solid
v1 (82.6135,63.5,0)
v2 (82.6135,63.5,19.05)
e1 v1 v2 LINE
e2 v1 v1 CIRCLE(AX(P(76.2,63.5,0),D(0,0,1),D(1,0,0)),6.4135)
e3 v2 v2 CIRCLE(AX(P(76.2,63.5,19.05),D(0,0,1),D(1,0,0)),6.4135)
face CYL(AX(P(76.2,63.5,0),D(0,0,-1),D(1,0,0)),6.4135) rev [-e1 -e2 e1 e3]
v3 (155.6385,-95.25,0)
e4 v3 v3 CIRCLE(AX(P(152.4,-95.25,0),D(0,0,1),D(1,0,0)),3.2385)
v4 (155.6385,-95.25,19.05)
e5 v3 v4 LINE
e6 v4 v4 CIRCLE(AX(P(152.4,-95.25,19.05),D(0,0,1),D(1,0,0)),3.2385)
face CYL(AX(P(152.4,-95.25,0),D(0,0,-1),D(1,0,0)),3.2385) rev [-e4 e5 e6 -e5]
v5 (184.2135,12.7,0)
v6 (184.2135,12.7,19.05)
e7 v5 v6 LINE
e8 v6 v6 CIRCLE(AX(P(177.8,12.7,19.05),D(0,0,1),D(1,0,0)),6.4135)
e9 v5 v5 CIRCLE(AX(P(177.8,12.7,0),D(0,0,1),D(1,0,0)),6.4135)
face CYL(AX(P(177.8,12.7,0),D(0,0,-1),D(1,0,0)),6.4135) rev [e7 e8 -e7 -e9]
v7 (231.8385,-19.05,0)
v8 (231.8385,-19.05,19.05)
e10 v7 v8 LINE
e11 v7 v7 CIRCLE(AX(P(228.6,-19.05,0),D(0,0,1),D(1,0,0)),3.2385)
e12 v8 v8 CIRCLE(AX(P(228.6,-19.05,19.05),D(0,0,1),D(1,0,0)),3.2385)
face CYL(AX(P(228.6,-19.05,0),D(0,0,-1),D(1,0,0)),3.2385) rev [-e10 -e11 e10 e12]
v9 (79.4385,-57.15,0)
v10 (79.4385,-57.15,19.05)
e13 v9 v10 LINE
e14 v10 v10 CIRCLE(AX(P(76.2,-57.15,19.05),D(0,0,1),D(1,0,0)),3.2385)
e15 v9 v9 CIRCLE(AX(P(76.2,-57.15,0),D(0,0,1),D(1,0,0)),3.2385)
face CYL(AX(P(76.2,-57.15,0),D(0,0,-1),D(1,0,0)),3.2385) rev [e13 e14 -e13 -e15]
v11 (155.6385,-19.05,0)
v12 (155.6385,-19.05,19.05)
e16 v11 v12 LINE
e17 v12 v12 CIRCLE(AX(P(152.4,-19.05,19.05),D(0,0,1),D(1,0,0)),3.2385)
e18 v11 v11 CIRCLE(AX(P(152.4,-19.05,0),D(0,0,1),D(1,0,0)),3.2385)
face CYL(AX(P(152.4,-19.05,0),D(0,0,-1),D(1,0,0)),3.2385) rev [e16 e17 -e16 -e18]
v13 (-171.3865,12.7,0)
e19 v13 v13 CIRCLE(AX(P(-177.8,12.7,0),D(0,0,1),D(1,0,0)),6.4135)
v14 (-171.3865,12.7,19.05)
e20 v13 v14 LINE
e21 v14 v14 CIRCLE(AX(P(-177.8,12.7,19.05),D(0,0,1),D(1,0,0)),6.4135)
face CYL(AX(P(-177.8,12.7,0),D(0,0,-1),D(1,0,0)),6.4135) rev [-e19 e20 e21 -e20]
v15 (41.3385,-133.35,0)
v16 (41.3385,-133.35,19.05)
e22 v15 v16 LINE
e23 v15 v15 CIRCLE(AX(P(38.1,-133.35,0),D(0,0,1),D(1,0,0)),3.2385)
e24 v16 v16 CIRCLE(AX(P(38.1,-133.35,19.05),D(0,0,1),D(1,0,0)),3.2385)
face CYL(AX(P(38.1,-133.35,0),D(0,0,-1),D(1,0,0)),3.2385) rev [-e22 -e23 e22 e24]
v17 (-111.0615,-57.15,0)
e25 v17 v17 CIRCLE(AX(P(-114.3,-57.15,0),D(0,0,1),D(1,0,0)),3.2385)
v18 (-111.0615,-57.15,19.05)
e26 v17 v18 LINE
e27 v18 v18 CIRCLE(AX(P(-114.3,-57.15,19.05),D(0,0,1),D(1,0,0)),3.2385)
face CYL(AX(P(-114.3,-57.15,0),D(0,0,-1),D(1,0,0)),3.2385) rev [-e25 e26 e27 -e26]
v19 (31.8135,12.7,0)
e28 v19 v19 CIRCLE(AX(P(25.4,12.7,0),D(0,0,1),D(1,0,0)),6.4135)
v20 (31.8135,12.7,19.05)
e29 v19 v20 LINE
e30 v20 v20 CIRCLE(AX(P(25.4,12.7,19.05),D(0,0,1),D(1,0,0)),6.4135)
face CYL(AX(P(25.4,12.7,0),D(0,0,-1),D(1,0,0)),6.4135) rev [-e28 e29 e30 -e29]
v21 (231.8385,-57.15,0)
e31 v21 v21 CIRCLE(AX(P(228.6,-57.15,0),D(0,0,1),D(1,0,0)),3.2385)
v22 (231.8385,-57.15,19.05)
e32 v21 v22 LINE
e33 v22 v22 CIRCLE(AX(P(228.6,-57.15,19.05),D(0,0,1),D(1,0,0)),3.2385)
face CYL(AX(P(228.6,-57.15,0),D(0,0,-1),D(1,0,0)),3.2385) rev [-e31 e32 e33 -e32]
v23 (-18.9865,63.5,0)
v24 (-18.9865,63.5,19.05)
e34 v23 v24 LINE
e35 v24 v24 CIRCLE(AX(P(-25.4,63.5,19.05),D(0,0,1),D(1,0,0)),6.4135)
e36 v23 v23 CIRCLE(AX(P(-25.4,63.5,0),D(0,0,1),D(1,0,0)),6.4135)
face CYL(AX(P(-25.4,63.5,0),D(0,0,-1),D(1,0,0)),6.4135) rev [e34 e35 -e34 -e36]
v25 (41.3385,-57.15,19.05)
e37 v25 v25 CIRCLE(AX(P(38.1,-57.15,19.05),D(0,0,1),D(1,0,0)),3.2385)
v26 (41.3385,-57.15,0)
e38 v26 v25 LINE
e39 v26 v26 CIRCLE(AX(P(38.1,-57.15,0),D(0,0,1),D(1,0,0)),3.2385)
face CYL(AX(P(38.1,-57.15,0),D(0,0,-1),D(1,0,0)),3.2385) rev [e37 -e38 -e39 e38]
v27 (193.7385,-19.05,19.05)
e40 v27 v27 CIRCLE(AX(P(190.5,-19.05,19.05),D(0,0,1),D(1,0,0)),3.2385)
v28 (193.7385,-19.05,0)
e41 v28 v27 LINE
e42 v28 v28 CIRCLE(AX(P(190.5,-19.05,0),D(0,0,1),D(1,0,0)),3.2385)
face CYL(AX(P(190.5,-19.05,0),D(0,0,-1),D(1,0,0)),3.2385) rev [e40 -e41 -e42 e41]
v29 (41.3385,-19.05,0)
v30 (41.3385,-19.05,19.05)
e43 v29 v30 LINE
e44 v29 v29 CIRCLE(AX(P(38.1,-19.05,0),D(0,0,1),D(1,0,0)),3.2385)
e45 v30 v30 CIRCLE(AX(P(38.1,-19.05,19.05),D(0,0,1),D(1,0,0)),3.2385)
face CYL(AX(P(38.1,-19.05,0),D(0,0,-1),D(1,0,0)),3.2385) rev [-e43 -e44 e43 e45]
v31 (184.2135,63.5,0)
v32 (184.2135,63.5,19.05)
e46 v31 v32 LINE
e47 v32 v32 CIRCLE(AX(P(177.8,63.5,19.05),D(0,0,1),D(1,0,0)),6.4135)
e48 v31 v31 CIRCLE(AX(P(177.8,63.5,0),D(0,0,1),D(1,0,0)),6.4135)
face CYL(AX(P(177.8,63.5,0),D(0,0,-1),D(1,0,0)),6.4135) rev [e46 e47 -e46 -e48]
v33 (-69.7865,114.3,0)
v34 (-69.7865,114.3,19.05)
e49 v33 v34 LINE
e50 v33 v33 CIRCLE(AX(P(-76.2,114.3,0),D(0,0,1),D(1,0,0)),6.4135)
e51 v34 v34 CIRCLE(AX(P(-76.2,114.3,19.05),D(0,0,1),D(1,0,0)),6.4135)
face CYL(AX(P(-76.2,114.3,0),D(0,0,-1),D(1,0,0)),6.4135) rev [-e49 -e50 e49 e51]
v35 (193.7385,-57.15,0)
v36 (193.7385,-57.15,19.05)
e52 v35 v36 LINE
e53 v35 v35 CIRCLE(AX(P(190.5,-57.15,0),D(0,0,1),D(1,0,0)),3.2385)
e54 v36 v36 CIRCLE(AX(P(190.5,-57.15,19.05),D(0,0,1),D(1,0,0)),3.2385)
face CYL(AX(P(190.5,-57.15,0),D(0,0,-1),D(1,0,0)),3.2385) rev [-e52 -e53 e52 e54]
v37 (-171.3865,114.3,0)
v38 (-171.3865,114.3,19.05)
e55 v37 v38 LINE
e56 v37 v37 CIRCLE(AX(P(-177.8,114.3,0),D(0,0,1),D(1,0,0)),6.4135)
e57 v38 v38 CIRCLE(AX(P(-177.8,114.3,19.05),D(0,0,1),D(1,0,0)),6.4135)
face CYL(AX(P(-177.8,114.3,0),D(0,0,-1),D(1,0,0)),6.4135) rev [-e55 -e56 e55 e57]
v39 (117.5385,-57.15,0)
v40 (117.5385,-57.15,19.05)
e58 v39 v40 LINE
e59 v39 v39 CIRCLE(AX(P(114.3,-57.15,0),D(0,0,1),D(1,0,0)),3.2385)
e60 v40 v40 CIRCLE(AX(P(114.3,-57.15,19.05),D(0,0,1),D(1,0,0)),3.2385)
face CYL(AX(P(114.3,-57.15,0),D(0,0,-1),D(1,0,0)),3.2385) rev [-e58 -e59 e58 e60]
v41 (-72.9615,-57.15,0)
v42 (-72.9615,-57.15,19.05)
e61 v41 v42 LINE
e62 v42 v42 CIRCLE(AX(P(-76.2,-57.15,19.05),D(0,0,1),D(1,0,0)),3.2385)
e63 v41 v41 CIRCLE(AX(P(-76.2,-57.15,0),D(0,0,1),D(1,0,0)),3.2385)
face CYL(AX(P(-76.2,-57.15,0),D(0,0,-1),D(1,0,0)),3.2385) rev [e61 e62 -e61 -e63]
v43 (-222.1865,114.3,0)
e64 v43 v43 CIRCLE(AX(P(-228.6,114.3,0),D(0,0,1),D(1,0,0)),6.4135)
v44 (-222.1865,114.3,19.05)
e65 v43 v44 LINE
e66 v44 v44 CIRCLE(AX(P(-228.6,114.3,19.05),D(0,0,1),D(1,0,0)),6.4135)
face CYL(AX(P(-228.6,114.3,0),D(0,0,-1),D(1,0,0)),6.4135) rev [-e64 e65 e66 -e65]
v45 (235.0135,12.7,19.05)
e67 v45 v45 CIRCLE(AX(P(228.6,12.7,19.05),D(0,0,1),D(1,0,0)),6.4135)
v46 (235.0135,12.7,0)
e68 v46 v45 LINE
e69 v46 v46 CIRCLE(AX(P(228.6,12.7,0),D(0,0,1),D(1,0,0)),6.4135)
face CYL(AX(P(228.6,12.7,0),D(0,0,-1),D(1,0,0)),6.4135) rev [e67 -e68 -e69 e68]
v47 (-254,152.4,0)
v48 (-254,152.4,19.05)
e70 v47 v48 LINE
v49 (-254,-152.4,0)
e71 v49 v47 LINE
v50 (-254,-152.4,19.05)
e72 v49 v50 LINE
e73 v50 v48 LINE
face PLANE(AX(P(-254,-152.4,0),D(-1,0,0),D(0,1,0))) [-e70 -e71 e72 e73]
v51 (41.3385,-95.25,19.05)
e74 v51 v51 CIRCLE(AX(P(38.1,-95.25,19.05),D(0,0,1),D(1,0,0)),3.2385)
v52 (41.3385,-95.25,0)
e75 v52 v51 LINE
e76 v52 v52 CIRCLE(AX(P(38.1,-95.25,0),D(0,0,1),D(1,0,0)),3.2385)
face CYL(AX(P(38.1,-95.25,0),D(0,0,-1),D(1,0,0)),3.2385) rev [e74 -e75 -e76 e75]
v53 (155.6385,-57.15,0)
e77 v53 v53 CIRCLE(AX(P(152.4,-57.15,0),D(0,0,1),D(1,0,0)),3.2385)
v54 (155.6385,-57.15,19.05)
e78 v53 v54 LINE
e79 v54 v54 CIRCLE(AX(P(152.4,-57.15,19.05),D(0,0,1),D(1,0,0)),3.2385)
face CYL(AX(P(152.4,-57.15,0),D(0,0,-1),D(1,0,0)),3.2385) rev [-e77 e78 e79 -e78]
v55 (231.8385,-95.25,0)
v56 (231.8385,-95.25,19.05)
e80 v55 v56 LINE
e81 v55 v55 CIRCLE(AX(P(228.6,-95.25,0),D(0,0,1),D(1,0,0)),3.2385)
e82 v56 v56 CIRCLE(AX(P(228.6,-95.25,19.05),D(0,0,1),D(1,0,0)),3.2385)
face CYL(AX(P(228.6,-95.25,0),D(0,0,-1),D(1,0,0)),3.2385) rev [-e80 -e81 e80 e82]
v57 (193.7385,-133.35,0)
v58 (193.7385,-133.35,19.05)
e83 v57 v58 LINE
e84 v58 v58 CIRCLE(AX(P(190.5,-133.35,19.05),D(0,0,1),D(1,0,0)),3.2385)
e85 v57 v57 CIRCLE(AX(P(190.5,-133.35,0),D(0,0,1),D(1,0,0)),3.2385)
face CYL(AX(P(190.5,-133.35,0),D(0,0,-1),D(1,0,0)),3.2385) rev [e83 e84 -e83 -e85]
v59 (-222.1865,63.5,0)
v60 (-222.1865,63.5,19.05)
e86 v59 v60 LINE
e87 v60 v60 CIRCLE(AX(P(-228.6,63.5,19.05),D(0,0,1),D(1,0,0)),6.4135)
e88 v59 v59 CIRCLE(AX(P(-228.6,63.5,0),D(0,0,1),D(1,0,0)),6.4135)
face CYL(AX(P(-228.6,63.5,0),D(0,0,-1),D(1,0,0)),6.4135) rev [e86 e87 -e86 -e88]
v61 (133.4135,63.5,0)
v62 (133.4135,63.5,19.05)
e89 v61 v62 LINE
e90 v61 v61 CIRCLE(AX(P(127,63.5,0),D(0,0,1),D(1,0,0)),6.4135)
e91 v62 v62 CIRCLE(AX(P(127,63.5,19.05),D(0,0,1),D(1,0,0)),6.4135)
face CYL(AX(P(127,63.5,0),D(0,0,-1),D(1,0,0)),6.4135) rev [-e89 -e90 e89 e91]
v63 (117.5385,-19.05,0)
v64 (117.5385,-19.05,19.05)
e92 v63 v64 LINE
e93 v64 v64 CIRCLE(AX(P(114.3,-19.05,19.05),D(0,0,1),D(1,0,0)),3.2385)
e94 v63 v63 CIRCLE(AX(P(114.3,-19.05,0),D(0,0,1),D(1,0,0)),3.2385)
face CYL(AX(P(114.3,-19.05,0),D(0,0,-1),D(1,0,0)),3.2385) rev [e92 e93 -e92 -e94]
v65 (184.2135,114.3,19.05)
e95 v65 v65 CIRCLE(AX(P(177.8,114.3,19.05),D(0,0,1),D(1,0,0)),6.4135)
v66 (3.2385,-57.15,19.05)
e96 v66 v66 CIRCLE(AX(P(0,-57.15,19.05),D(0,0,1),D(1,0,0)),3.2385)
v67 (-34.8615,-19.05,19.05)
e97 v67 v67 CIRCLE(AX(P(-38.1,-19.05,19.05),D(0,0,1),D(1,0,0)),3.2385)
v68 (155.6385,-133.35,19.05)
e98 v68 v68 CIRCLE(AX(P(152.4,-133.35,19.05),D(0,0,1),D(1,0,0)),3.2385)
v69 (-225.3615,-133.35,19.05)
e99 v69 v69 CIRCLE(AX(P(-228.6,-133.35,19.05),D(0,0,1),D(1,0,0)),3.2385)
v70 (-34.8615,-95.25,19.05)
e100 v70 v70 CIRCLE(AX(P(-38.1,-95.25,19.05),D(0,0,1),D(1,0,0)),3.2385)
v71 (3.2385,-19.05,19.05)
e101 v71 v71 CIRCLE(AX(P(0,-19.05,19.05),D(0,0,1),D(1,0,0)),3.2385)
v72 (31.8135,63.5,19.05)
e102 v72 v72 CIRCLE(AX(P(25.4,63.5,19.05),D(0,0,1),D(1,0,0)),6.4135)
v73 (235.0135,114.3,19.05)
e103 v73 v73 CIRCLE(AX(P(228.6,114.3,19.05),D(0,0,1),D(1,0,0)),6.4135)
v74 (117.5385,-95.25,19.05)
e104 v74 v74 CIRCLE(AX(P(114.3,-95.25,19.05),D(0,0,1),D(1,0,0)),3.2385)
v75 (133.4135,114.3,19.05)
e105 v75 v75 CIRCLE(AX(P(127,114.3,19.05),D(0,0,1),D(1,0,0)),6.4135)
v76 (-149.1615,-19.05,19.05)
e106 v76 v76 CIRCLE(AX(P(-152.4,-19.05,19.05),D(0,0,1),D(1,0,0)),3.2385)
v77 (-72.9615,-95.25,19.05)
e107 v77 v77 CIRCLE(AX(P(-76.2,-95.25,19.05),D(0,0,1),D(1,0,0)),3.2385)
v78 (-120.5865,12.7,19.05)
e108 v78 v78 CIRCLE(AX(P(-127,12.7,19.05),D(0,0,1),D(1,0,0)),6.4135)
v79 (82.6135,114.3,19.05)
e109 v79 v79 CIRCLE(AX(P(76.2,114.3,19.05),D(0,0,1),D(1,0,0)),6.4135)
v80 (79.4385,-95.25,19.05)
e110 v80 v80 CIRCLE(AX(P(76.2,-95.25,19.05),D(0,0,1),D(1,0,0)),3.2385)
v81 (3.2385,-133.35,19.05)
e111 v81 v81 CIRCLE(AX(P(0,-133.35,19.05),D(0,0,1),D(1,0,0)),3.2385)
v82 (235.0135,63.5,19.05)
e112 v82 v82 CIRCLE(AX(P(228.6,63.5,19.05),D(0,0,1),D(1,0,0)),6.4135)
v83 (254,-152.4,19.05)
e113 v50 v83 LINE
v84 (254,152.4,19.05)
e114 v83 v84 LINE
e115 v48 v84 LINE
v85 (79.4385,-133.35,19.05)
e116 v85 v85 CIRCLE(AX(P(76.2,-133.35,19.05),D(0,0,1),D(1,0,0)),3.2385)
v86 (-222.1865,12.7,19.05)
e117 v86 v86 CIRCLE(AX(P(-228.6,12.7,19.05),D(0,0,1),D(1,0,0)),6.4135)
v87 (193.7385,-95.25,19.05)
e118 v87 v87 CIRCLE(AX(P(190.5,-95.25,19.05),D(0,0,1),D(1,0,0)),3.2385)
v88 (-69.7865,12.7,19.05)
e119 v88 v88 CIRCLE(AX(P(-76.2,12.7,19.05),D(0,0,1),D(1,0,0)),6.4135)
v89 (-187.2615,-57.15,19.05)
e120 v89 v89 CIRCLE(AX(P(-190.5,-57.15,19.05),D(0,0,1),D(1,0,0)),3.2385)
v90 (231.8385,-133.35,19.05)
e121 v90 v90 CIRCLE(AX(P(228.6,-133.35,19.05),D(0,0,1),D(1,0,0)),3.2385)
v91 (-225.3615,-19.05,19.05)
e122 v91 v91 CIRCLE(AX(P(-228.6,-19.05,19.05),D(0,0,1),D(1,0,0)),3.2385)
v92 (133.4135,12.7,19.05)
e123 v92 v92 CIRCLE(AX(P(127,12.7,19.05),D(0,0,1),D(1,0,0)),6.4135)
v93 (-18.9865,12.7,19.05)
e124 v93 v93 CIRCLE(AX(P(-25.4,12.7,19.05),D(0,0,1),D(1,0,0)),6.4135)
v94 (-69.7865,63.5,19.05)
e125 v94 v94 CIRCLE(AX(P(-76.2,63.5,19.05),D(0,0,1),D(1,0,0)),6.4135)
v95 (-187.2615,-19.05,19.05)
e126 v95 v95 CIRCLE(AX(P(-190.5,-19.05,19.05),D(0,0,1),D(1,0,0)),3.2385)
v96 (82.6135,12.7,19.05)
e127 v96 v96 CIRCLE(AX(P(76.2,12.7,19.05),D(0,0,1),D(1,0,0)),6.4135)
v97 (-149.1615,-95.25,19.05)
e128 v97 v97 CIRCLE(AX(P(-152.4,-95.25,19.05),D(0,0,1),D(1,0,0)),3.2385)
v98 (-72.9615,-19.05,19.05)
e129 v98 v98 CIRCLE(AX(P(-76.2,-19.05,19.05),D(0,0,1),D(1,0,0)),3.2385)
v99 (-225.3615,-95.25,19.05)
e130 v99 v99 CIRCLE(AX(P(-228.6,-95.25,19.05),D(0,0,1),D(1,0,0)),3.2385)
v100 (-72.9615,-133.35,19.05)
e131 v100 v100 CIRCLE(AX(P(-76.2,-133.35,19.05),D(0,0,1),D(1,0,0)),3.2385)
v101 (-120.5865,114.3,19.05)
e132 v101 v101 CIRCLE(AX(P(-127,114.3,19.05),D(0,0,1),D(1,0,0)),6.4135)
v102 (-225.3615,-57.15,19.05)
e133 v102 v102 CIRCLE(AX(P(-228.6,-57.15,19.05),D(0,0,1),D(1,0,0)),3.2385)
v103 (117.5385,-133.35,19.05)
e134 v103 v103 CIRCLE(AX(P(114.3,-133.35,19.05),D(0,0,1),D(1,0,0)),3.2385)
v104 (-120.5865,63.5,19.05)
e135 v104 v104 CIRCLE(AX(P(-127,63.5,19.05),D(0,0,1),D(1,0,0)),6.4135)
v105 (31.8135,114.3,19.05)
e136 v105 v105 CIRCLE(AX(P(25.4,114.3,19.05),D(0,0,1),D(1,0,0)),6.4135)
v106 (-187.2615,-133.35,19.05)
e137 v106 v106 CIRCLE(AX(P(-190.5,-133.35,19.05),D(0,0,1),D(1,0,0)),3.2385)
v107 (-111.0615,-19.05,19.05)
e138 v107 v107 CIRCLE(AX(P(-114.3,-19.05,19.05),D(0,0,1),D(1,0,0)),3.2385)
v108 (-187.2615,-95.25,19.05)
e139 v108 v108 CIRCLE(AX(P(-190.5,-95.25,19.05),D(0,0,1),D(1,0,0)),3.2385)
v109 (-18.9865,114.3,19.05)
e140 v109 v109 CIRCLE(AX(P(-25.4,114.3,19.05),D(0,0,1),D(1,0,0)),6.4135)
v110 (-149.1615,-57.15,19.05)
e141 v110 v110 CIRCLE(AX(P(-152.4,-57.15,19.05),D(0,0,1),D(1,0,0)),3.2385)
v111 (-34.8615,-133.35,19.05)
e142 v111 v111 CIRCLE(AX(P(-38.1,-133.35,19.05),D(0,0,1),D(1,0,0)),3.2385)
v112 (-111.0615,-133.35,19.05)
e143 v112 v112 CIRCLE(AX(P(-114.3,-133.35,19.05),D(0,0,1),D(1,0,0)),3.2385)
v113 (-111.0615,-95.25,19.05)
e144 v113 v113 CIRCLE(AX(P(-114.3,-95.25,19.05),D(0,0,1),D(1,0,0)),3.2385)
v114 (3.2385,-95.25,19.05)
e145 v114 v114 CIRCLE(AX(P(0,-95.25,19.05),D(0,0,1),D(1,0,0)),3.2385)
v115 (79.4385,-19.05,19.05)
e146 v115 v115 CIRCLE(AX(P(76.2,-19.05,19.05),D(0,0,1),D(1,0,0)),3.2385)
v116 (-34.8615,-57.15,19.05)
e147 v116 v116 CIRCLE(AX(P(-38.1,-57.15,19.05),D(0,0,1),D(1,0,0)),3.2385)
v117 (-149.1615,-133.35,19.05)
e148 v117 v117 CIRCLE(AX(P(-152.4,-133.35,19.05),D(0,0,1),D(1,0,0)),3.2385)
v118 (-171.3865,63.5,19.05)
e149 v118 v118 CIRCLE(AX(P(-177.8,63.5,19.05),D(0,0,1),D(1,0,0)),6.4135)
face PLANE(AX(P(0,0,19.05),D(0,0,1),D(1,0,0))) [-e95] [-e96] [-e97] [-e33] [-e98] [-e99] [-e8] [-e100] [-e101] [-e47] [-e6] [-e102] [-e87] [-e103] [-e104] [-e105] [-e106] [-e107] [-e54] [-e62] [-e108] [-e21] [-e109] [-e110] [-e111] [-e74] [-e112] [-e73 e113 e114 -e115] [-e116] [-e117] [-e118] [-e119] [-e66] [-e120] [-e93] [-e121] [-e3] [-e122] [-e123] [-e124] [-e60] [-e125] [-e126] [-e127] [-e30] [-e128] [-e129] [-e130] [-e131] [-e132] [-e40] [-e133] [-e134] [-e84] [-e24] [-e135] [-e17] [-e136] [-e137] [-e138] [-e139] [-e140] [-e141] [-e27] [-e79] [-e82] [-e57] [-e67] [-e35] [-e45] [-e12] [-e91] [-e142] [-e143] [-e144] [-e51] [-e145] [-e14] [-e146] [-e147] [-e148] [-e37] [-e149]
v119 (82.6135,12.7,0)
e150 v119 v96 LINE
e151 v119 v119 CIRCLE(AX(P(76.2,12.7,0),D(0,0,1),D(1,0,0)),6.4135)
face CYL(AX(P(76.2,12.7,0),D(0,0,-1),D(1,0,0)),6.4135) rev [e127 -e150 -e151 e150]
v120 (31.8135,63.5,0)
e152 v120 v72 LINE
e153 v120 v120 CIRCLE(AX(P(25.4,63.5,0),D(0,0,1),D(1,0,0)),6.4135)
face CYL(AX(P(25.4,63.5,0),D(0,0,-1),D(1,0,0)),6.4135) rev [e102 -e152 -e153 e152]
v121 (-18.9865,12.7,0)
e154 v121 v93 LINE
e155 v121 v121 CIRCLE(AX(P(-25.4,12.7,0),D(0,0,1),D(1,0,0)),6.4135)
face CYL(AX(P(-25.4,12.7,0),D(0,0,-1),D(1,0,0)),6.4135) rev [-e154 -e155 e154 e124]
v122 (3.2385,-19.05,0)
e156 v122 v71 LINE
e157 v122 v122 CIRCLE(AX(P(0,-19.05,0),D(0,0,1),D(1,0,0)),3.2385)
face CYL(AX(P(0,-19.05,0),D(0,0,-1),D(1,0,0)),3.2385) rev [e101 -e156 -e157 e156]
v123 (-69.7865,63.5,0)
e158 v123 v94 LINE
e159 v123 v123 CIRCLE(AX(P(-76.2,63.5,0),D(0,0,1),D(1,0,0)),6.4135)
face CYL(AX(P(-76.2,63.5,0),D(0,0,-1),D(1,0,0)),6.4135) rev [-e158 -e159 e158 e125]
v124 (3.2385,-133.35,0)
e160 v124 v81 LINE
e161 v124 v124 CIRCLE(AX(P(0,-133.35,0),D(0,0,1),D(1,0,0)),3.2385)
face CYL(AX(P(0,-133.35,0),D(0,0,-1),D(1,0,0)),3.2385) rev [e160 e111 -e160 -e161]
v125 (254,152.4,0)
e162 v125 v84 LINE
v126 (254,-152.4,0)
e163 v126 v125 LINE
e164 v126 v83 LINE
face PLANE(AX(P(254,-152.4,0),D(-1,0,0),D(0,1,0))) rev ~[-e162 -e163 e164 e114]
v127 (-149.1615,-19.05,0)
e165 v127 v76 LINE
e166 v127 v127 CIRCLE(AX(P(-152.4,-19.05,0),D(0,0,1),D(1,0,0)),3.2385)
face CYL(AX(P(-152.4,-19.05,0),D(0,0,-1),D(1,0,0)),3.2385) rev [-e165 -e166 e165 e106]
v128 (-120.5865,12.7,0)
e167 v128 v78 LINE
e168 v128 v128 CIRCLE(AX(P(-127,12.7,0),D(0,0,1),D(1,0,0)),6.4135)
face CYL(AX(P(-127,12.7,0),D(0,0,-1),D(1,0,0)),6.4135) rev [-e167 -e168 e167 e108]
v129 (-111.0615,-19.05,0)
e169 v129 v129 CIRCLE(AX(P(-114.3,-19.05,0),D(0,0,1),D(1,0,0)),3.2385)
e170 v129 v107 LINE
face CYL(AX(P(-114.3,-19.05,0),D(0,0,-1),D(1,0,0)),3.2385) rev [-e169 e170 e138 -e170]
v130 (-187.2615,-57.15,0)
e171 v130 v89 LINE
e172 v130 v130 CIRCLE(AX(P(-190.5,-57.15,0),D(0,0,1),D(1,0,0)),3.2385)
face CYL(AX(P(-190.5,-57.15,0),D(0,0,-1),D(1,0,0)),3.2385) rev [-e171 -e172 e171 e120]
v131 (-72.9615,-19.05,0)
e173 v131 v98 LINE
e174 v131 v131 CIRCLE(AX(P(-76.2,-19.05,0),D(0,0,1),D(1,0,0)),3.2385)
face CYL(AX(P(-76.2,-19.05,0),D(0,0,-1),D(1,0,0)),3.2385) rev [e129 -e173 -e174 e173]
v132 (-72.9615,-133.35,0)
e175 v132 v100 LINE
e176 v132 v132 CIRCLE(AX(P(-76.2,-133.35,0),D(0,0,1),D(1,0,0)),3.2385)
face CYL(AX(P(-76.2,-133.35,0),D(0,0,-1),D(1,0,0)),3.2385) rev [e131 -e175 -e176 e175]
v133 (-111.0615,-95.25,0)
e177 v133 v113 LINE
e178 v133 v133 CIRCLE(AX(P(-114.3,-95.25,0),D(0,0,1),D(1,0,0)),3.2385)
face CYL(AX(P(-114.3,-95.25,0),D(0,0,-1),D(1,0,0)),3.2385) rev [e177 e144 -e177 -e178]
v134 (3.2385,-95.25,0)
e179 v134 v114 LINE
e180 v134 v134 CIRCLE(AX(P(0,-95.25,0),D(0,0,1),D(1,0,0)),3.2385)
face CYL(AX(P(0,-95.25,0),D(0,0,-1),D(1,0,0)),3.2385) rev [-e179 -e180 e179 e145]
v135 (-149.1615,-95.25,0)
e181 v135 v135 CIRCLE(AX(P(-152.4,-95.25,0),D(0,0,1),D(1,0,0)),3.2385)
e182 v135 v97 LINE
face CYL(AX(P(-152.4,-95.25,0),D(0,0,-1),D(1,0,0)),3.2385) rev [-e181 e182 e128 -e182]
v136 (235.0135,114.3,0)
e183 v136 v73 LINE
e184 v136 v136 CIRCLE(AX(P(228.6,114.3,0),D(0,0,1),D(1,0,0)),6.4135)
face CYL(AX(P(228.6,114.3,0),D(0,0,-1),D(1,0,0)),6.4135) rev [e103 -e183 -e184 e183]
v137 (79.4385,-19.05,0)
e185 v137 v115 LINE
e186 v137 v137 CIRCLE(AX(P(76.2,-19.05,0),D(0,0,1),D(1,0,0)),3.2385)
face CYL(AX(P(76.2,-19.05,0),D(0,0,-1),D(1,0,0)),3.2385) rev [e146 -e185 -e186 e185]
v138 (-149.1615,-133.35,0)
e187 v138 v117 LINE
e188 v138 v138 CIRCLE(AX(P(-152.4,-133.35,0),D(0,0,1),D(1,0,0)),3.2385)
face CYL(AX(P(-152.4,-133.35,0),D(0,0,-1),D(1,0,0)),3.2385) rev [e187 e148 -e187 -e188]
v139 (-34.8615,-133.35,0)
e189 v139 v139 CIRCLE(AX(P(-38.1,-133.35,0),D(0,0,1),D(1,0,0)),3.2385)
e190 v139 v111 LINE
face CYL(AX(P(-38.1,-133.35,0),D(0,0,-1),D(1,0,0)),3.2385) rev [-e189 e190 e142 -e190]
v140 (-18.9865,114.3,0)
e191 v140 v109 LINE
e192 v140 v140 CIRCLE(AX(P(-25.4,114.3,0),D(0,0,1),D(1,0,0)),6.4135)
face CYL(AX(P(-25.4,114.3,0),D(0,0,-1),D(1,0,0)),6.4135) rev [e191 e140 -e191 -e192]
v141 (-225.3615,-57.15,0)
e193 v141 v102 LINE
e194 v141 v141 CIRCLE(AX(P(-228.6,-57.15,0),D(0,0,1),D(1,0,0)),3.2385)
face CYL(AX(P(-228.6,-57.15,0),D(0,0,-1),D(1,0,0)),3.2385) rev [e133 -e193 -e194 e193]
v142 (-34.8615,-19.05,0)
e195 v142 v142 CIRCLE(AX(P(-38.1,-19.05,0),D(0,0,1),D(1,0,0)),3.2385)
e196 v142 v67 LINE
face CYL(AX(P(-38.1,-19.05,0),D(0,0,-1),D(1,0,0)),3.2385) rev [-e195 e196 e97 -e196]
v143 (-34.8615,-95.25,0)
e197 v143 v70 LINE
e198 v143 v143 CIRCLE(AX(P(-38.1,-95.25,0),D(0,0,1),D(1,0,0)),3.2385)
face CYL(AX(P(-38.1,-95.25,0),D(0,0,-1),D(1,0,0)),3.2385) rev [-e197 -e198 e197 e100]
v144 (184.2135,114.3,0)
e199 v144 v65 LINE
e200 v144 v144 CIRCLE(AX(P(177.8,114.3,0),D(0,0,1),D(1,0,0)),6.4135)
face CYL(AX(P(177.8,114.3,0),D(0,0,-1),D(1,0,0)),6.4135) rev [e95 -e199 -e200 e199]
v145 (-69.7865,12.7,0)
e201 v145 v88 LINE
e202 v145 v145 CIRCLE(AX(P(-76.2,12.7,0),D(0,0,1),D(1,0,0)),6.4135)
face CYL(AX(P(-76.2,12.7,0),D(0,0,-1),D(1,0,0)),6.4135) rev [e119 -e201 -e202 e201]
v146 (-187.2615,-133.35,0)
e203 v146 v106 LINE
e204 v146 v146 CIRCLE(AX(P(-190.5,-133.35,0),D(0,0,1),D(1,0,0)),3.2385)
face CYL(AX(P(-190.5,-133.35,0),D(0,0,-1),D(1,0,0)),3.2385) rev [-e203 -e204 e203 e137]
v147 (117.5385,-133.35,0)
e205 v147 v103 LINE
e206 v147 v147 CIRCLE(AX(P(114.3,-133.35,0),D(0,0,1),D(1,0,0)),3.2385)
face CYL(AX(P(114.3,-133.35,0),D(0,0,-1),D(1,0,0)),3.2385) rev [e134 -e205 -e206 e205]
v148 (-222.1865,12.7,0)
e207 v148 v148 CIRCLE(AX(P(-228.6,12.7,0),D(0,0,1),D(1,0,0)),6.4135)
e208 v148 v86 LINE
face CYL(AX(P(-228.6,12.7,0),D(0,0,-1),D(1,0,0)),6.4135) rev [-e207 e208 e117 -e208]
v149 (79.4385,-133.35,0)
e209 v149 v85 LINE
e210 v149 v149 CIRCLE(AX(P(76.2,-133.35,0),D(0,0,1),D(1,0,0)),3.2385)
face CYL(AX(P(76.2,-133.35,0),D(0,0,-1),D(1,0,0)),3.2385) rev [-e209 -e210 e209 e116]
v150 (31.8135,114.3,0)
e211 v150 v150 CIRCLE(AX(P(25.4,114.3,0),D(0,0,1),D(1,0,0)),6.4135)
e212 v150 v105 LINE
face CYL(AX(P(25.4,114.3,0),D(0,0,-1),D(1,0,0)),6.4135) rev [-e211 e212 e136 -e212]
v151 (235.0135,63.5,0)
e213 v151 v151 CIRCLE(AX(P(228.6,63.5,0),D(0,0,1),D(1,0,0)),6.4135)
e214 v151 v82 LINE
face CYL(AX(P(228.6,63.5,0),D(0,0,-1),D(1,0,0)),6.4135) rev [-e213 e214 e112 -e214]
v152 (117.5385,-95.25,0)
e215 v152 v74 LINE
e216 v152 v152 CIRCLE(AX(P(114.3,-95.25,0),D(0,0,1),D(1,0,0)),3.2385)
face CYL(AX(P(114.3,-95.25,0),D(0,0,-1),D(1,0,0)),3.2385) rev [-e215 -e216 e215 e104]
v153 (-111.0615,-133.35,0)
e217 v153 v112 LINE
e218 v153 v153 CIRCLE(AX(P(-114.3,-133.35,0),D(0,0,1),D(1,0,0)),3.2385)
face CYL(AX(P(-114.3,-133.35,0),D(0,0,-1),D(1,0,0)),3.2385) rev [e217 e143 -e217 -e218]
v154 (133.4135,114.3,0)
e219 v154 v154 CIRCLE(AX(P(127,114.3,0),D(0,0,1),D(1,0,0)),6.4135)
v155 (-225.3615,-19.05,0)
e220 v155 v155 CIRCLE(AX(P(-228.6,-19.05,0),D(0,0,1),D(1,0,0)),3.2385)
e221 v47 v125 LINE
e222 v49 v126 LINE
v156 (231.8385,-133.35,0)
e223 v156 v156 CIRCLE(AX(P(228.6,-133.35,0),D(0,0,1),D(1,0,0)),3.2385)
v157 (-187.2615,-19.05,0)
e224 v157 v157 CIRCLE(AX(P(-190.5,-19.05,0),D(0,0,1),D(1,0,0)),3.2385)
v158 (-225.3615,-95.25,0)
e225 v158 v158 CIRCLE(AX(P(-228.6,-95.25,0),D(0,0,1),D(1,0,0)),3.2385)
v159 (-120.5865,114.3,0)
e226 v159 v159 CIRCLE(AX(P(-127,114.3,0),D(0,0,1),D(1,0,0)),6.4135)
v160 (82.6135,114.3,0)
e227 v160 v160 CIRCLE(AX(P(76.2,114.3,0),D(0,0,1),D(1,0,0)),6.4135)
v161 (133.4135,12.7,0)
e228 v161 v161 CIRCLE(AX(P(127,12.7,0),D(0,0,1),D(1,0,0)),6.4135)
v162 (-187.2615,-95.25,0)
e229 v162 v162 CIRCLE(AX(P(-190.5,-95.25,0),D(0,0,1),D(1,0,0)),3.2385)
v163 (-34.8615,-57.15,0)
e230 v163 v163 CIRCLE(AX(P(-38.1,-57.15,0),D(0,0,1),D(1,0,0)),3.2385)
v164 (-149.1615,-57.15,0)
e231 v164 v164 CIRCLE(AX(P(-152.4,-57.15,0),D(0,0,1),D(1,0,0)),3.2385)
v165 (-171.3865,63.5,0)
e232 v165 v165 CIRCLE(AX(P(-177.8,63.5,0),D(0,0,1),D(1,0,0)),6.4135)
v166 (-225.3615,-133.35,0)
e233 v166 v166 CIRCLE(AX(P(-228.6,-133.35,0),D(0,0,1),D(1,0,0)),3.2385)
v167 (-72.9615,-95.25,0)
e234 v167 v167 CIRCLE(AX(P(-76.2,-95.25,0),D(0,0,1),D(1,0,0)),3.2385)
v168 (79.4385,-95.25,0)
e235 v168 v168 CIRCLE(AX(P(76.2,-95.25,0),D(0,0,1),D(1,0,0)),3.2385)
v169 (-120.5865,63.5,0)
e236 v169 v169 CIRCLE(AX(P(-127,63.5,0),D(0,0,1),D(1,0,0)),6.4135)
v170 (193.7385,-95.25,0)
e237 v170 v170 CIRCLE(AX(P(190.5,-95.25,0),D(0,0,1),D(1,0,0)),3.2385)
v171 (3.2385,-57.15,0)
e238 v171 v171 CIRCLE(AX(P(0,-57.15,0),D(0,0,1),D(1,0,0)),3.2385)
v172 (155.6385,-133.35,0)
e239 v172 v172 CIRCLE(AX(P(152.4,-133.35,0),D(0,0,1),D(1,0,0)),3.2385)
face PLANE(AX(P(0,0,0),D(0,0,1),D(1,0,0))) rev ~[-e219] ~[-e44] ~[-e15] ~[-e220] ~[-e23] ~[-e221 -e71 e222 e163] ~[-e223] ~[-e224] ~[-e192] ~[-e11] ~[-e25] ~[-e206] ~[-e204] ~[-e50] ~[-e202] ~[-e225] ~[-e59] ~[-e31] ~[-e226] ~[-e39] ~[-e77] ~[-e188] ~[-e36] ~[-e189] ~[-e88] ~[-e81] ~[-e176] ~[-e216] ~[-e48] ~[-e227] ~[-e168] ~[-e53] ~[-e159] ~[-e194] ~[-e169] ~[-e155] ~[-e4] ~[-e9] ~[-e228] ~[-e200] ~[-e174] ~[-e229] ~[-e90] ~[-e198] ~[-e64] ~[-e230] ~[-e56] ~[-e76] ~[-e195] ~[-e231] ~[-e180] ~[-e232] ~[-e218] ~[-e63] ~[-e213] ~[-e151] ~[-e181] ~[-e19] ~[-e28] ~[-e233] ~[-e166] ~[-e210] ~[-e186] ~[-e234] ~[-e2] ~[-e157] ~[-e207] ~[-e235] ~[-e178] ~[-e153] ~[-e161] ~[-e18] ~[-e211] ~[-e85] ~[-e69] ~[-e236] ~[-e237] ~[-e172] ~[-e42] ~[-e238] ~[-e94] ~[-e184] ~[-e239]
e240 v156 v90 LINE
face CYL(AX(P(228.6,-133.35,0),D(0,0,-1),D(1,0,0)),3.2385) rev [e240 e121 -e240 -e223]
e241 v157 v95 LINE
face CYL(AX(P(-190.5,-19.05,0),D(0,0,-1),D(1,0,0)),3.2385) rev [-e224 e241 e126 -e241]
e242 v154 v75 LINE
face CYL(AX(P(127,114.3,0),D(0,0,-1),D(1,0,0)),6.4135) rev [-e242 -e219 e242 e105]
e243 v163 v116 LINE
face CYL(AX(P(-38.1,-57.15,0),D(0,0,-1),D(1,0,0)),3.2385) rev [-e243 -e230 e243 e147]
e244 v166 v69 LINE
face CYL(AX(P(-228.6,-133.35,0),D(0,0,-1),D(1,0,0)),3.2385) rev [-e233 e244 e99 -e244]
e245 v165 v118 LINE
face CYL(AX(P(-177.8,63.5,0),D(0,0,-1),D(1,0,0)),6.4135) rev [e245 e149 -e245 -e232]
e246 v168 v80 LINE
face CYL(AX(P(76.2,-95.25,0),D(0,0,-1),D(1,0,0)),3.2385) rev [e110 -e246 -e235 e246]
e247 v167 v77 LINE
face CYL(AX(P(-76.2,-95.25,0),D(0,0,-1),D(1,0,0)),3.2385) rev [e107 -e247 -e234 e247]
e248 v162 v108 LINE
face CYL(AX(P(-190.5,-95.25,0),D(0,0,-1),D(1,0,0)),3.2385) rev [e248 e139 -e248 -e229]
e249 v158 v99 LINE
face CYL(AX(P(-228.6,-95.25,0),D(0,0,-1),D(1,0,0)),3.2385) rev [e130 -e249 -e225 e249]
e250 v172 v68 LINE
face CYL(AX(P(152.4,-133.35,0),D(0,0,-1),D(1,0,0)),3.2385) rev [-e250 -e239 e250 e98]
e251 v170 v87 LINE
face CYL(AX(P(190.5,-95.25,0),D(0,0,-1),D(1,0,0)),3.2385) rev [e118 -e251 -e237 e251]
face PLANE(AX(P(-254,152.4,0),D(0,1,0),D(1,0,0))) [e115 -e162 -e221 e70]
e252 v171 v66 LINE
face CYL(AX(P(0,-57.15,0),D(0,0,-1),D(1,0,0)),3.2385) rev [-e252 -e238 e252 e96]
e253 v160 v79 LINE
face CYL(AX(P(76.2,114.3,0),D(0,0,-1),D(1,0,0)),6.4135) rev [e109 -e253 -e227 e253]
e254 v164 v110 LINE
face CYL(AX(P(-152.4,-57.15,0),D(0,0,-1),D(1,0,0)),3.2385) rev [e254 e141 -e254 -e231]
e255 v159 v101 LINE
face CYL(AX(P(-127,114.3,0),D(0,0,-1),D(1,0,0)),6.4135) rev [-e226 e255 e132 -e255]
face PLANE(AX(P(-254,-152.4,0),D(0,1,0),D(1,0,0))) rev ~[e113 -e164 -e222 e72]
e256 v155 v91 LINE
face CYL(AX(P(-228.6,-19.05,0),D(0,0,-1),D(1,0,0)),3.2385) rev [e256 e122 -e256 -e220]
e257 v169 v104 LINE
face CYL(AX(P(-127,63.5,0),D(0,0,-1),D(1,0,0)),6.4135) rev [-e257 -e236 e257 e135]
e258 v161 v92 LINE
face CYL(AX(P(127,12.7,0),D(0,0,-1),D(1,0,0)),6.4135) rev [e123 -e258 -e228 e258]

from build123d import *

# Parameters (mm, degrees)
F0_W     = 508
F0_H     = 304.8
F0_R     = 3.2385
F0_R_2   = 6.4135
F1_DEPTH = 19.05


with BuildPart() as f1:
    # F0 (on Top) → F1 (new body)
    with BuildSketch(Plane.XY):
        Rectangle(F0_W, F0_H)
        with Locations((-228.6, -133.35)):
            Circle(F0_R, mode=Mode.SUBTRACT)
        with Locations((-190.5, -133.35)):
            Circle(F0_R, mode=Mode.SUBTRACT)
        with Locations((-152.4, -133.35)):
            Circle(F0_R, mode=Mode.SUBTRACT)
        with Locations((-228.6, -95.25)):
            Circle(F0_R, mode=Mode.SUBTRACT)
        with Locations((-190.5, -95.25)):
            Circle(F0_R, mode=Mode.SUBTRACT)
        with Locations((-152.4, -95.25)):
            Circle(F0_R, mode=Mode.SUBTRACT)
        with Locations((-114.3, -133.35)):
            Circle(F0_R, mode=Mode.SUBTRACT)
        with Locations((-76.2, -133.35)):
            Circle(F0_R, mode=Mode.SUBTRACT)
        with Locations((-38.1, -133.35)):
            Circle(F0_R, mode=Mode.SUBTRACT)
        with Locations((-114.3, -95.25)):
            Circle(F0_R, mode=Mode.SUBTRACT)
        with Locations((-76.2, -95.25)):
            Circle(F0_R, mode=Mode.SUBTRACT)
        with Locations((-38.1, -95.25)):
            Circle(F0_R, mode=Mode.SUBTRACT)
        with Locations((-228.6, -57.15)):
            Circle(F0_R, mode=Mode.SUBTRACT)
        with Locations((-190.5, -57.15)):
            Circle(F0_R, mode=Mode.SUBTRACT)
        with Locations((-152.4, -57.15)):
            Circle(F0_R, mode=Mode.SUBTRACT)
        with Locations((-228.6, -19.05)):
            Circle(F0_R, mode=Mode.SUBTRACT)
        with Locations((-190.5, -19.05)):
            Circle(F0_R, mode=Mode.SUBTRACT)
        with Locations((-152.4, -19.05)):
            Circle(F0_R, mode=Mode.SUBTRACT)
        with Locations((-114.3, -57.15)):
            Circle(F0_R, mode=Mode.SUBTRACT)
        with Locations((-76.2, -57.15)):
            Circle(F0_R, mode=Mode.SUBTRACT)
        with Locations((-38.1, -57.15)):
            Circle(F0_R, mode=Mode.SUBTRACT)
        with Locations((-114.3, -19.05)):
            Circle(F0_R, mode=Mode.SUBTRACT)
        with Locations((-76.2, -19.05)):
            Circle(F0_R, mode=Mode.SUBTRACT)
        with Locations((-38.1, -19.05)):
            Circle(F0_R, mode=Mode.SUBTRACT)
        with Locations((0, -133.35)):
            Circle(F0_R, mode=Mode.SUBTRACT)
        with Locations((38.1, -133.35)):
            Circle(F0_R, mode=Mode.SUBTRACT)
        with Locations((76.2, -133.35)):
            Circle(F0_R, mode=Mode.SUBTRACT)
        with Locations((114.3, -133.35)):
            Circle(F0_R, mode=Mode.SUBTRACT)
        with Locations((0, -95.25)):
            Circle(F0_R, mode=Mode.SUBTRACT)
        with Locations((38.1, -95.25)):
            Circle(F0_R, mode=Mode.SUBTRACT)
        with Locations((76.2, -95.25)):
            Circle(F0_R, mode=Mode.SUBTRACT)
        with Locations((114.3, -95.25)):
            Circle(F0_R, mode=Mode.SUBTRACT)
        with Locations((152.4, -133.35)):
            Circle(F0_R, mode=Mode.SUBTRACT)
        with Locations((190.5, -133.35)):
            Circle(F0_R, mode=Mode.SUBTRACT)
        with Locations((228.6, -133.35)):
            Circle(F0_R, mode=Mode.SUBTRACT)
        with Locations((152.4, -95.25)):
            Circle(F0_R, mode=Mode.SUBTRACT)
        with Locations((190.5, -95.25)):
            Circle(F0_R, mode=Mode.SUBTRACT)
        with Locations((228.6, -95.25)):
            Circle(F0_R, mode=Mode.SUBTRACT)
        with Locations((0, -57.15)):
            Circle(F0_R, mode=Mode.SUBTRACT)
        with Locations((38.1, -57.15)):
            Circle(F0_R, mode=Mode.SUBTRACT)
        with Locations((76.2, -57.15)):
            Circle(F0_R, mode=Mode.SUBTRACT)
        with Locations((114.3, -57.15)):
            Circle(F0_R, mode=Mode.SUBTRACT)
        with Locations((0, -19.05)):
            Circle(F0_R, mode=Mode.SUBTRACT)
        with Locations((38.1, -19.05)):
            Circle(F0_R, mode=Mode.SUBTRACT)
        with Locations((76.2, -19.05)):
            Circle(F0_R, mode=Mode.SUBTRACT)
        with Locations((114.3, -19.05)):
            Circle(F0_R, mode=Mode.SUBTRACT)
        with Locations((152.4, -57.15)):
            Circle(F0_R, mode=Mode.SUBTRACT)
        with Locations((190.5, -57.15)):
            Circle(F0_R, mode=Mode.SUBTRACT)
        with Locations((228.6, -57.15)):
            Circle(F0_R, mode=Mode.SUBTRACT)
        with Locations((152.4, -19.05)):
            Circle(F0_R, mode=Mode.SUBTRACT)
        with Locations((190.5, -19.05)):
            Circle(F0_R, mode=Mode.SUBTRACT)
        with Locations((228.6, -19.05)):
            Circle(F0_R, mode=Mode.SUBTRACT)
        with Locations((-228.6, 12.7)):
            Circle(F0_R_2, mode=Mode.SUBTRACT)
        with Locations((-177.8, 12.7)):
            Circle(F0_R_2, mode=Mode.SUBTRACT)
        with Locations((-228.6, 63.5)):
            Circle(F0_R_2, mode=Mode.SUBTRACT)
        with Locations((-177.8, 63.5)):
            Circle(F0_R_2, mode=Mode.SUBTRACT)
        with Locations((-127, 12.7)):
            Circle(F0_R_2, mode=Mode.SUBTRACT)
        with Locations((-76.2, 12.7)):
            Circle(F0_R_2, mode=Mode.SUBTRACT)
        with Locations((-25.4, 12.7)):
            Circle(F0_R_2, mode=Mode.SUBTRACT)
        with Locations((-127, 63.5)):
            Circle(F0_R_2, mode=Mode.SUBTRACT)
        with Locations((-76.2, 63.5)):
            Circle(F0_R_2, mode=Mode.SUBTRACT)
        with Locations((-25.4, 63.5)):
            Circle(F0_R_2, mode=Mode.SUBTRACT)
        with Locations((-228.6, 114.3)):
            Circle(F0_R_2, mode=Mode.SUBTRACT)
        with Locations((-177.8, 114.3)):
            Circle(F0_R_2, mode=Mode.SUBTRACT)
        with Locations((-127, 114.3)):
            Circle(F0_R_2, mode=Mode.SUBTRACT)
        with Locations((-76.2, 114.3)):
            Circle(F0_R_2, mode=Mode.SUBTRACT)
        with Locations((-25.4, 114.3)):
            Circle(F0_R_2, mode=Mode.SUBTRACT)
        with Locations((25.4, 12.7)):
            Circle(F0_R_2, mode=Mode.SUBTRACT)
        with Locations((76.2, 12.7)):
            Circle(F0_R_2, mode=Mode.SUBTRACT)
        with Locations((25.4, 63.5)):
            Circle(F0_R_2, mode=Mode.SUBTRACT)
        with Locations((76.2, 63.5)):
            Circle(F0_R_2, mode=Mode.SUBTRACT)
        with Locations((127, 12.7)):
            Circle(F0_R_2, mode=Mode.SUBTRACT)
        with Locations((177.8, 12.7)):
            Circle(F0_R_2, mode=Mode.SUBTRACT)
        with Locations((228.6, 12.7)):
            Circle(F0_R_2, mode=Mode.SUBTRACT)
        with Locations((127, 63.5)):
            Circle(F0_R_2, mode=Mode.SUBTRACT)
        with Locations((177.8, 63.5)):
            Circle(F0_R_2, mode=Mode.SUBTRACT)
        with Locations((228.6, 63.5)):
            Circle(F0_R_2, mode=Mode.SUBTRACT)
        with Locations((25.4, 114.3)):
            Circle(F0_R_2, mode=Mode.SUBTRACT)
        with Locations((76.2, 114.3)):
            Circle(F0_R_2, mode=Mode.SUBTRACT)
        with Locations((127, 114.3)):
            Circle(F0_R_2, mode=Mode.SUBTRACT)
        with Locations((177.8, 114.3)):
            Circle(F0_R_2, mode=Mode.SUBTRACT)
        with Locations((228.6, 114.3)):
            Circle(F0_R_2, mode=Mode.SUBTRACT)
    extrude(amount=F1_DEPTH)


solid = f1.part
